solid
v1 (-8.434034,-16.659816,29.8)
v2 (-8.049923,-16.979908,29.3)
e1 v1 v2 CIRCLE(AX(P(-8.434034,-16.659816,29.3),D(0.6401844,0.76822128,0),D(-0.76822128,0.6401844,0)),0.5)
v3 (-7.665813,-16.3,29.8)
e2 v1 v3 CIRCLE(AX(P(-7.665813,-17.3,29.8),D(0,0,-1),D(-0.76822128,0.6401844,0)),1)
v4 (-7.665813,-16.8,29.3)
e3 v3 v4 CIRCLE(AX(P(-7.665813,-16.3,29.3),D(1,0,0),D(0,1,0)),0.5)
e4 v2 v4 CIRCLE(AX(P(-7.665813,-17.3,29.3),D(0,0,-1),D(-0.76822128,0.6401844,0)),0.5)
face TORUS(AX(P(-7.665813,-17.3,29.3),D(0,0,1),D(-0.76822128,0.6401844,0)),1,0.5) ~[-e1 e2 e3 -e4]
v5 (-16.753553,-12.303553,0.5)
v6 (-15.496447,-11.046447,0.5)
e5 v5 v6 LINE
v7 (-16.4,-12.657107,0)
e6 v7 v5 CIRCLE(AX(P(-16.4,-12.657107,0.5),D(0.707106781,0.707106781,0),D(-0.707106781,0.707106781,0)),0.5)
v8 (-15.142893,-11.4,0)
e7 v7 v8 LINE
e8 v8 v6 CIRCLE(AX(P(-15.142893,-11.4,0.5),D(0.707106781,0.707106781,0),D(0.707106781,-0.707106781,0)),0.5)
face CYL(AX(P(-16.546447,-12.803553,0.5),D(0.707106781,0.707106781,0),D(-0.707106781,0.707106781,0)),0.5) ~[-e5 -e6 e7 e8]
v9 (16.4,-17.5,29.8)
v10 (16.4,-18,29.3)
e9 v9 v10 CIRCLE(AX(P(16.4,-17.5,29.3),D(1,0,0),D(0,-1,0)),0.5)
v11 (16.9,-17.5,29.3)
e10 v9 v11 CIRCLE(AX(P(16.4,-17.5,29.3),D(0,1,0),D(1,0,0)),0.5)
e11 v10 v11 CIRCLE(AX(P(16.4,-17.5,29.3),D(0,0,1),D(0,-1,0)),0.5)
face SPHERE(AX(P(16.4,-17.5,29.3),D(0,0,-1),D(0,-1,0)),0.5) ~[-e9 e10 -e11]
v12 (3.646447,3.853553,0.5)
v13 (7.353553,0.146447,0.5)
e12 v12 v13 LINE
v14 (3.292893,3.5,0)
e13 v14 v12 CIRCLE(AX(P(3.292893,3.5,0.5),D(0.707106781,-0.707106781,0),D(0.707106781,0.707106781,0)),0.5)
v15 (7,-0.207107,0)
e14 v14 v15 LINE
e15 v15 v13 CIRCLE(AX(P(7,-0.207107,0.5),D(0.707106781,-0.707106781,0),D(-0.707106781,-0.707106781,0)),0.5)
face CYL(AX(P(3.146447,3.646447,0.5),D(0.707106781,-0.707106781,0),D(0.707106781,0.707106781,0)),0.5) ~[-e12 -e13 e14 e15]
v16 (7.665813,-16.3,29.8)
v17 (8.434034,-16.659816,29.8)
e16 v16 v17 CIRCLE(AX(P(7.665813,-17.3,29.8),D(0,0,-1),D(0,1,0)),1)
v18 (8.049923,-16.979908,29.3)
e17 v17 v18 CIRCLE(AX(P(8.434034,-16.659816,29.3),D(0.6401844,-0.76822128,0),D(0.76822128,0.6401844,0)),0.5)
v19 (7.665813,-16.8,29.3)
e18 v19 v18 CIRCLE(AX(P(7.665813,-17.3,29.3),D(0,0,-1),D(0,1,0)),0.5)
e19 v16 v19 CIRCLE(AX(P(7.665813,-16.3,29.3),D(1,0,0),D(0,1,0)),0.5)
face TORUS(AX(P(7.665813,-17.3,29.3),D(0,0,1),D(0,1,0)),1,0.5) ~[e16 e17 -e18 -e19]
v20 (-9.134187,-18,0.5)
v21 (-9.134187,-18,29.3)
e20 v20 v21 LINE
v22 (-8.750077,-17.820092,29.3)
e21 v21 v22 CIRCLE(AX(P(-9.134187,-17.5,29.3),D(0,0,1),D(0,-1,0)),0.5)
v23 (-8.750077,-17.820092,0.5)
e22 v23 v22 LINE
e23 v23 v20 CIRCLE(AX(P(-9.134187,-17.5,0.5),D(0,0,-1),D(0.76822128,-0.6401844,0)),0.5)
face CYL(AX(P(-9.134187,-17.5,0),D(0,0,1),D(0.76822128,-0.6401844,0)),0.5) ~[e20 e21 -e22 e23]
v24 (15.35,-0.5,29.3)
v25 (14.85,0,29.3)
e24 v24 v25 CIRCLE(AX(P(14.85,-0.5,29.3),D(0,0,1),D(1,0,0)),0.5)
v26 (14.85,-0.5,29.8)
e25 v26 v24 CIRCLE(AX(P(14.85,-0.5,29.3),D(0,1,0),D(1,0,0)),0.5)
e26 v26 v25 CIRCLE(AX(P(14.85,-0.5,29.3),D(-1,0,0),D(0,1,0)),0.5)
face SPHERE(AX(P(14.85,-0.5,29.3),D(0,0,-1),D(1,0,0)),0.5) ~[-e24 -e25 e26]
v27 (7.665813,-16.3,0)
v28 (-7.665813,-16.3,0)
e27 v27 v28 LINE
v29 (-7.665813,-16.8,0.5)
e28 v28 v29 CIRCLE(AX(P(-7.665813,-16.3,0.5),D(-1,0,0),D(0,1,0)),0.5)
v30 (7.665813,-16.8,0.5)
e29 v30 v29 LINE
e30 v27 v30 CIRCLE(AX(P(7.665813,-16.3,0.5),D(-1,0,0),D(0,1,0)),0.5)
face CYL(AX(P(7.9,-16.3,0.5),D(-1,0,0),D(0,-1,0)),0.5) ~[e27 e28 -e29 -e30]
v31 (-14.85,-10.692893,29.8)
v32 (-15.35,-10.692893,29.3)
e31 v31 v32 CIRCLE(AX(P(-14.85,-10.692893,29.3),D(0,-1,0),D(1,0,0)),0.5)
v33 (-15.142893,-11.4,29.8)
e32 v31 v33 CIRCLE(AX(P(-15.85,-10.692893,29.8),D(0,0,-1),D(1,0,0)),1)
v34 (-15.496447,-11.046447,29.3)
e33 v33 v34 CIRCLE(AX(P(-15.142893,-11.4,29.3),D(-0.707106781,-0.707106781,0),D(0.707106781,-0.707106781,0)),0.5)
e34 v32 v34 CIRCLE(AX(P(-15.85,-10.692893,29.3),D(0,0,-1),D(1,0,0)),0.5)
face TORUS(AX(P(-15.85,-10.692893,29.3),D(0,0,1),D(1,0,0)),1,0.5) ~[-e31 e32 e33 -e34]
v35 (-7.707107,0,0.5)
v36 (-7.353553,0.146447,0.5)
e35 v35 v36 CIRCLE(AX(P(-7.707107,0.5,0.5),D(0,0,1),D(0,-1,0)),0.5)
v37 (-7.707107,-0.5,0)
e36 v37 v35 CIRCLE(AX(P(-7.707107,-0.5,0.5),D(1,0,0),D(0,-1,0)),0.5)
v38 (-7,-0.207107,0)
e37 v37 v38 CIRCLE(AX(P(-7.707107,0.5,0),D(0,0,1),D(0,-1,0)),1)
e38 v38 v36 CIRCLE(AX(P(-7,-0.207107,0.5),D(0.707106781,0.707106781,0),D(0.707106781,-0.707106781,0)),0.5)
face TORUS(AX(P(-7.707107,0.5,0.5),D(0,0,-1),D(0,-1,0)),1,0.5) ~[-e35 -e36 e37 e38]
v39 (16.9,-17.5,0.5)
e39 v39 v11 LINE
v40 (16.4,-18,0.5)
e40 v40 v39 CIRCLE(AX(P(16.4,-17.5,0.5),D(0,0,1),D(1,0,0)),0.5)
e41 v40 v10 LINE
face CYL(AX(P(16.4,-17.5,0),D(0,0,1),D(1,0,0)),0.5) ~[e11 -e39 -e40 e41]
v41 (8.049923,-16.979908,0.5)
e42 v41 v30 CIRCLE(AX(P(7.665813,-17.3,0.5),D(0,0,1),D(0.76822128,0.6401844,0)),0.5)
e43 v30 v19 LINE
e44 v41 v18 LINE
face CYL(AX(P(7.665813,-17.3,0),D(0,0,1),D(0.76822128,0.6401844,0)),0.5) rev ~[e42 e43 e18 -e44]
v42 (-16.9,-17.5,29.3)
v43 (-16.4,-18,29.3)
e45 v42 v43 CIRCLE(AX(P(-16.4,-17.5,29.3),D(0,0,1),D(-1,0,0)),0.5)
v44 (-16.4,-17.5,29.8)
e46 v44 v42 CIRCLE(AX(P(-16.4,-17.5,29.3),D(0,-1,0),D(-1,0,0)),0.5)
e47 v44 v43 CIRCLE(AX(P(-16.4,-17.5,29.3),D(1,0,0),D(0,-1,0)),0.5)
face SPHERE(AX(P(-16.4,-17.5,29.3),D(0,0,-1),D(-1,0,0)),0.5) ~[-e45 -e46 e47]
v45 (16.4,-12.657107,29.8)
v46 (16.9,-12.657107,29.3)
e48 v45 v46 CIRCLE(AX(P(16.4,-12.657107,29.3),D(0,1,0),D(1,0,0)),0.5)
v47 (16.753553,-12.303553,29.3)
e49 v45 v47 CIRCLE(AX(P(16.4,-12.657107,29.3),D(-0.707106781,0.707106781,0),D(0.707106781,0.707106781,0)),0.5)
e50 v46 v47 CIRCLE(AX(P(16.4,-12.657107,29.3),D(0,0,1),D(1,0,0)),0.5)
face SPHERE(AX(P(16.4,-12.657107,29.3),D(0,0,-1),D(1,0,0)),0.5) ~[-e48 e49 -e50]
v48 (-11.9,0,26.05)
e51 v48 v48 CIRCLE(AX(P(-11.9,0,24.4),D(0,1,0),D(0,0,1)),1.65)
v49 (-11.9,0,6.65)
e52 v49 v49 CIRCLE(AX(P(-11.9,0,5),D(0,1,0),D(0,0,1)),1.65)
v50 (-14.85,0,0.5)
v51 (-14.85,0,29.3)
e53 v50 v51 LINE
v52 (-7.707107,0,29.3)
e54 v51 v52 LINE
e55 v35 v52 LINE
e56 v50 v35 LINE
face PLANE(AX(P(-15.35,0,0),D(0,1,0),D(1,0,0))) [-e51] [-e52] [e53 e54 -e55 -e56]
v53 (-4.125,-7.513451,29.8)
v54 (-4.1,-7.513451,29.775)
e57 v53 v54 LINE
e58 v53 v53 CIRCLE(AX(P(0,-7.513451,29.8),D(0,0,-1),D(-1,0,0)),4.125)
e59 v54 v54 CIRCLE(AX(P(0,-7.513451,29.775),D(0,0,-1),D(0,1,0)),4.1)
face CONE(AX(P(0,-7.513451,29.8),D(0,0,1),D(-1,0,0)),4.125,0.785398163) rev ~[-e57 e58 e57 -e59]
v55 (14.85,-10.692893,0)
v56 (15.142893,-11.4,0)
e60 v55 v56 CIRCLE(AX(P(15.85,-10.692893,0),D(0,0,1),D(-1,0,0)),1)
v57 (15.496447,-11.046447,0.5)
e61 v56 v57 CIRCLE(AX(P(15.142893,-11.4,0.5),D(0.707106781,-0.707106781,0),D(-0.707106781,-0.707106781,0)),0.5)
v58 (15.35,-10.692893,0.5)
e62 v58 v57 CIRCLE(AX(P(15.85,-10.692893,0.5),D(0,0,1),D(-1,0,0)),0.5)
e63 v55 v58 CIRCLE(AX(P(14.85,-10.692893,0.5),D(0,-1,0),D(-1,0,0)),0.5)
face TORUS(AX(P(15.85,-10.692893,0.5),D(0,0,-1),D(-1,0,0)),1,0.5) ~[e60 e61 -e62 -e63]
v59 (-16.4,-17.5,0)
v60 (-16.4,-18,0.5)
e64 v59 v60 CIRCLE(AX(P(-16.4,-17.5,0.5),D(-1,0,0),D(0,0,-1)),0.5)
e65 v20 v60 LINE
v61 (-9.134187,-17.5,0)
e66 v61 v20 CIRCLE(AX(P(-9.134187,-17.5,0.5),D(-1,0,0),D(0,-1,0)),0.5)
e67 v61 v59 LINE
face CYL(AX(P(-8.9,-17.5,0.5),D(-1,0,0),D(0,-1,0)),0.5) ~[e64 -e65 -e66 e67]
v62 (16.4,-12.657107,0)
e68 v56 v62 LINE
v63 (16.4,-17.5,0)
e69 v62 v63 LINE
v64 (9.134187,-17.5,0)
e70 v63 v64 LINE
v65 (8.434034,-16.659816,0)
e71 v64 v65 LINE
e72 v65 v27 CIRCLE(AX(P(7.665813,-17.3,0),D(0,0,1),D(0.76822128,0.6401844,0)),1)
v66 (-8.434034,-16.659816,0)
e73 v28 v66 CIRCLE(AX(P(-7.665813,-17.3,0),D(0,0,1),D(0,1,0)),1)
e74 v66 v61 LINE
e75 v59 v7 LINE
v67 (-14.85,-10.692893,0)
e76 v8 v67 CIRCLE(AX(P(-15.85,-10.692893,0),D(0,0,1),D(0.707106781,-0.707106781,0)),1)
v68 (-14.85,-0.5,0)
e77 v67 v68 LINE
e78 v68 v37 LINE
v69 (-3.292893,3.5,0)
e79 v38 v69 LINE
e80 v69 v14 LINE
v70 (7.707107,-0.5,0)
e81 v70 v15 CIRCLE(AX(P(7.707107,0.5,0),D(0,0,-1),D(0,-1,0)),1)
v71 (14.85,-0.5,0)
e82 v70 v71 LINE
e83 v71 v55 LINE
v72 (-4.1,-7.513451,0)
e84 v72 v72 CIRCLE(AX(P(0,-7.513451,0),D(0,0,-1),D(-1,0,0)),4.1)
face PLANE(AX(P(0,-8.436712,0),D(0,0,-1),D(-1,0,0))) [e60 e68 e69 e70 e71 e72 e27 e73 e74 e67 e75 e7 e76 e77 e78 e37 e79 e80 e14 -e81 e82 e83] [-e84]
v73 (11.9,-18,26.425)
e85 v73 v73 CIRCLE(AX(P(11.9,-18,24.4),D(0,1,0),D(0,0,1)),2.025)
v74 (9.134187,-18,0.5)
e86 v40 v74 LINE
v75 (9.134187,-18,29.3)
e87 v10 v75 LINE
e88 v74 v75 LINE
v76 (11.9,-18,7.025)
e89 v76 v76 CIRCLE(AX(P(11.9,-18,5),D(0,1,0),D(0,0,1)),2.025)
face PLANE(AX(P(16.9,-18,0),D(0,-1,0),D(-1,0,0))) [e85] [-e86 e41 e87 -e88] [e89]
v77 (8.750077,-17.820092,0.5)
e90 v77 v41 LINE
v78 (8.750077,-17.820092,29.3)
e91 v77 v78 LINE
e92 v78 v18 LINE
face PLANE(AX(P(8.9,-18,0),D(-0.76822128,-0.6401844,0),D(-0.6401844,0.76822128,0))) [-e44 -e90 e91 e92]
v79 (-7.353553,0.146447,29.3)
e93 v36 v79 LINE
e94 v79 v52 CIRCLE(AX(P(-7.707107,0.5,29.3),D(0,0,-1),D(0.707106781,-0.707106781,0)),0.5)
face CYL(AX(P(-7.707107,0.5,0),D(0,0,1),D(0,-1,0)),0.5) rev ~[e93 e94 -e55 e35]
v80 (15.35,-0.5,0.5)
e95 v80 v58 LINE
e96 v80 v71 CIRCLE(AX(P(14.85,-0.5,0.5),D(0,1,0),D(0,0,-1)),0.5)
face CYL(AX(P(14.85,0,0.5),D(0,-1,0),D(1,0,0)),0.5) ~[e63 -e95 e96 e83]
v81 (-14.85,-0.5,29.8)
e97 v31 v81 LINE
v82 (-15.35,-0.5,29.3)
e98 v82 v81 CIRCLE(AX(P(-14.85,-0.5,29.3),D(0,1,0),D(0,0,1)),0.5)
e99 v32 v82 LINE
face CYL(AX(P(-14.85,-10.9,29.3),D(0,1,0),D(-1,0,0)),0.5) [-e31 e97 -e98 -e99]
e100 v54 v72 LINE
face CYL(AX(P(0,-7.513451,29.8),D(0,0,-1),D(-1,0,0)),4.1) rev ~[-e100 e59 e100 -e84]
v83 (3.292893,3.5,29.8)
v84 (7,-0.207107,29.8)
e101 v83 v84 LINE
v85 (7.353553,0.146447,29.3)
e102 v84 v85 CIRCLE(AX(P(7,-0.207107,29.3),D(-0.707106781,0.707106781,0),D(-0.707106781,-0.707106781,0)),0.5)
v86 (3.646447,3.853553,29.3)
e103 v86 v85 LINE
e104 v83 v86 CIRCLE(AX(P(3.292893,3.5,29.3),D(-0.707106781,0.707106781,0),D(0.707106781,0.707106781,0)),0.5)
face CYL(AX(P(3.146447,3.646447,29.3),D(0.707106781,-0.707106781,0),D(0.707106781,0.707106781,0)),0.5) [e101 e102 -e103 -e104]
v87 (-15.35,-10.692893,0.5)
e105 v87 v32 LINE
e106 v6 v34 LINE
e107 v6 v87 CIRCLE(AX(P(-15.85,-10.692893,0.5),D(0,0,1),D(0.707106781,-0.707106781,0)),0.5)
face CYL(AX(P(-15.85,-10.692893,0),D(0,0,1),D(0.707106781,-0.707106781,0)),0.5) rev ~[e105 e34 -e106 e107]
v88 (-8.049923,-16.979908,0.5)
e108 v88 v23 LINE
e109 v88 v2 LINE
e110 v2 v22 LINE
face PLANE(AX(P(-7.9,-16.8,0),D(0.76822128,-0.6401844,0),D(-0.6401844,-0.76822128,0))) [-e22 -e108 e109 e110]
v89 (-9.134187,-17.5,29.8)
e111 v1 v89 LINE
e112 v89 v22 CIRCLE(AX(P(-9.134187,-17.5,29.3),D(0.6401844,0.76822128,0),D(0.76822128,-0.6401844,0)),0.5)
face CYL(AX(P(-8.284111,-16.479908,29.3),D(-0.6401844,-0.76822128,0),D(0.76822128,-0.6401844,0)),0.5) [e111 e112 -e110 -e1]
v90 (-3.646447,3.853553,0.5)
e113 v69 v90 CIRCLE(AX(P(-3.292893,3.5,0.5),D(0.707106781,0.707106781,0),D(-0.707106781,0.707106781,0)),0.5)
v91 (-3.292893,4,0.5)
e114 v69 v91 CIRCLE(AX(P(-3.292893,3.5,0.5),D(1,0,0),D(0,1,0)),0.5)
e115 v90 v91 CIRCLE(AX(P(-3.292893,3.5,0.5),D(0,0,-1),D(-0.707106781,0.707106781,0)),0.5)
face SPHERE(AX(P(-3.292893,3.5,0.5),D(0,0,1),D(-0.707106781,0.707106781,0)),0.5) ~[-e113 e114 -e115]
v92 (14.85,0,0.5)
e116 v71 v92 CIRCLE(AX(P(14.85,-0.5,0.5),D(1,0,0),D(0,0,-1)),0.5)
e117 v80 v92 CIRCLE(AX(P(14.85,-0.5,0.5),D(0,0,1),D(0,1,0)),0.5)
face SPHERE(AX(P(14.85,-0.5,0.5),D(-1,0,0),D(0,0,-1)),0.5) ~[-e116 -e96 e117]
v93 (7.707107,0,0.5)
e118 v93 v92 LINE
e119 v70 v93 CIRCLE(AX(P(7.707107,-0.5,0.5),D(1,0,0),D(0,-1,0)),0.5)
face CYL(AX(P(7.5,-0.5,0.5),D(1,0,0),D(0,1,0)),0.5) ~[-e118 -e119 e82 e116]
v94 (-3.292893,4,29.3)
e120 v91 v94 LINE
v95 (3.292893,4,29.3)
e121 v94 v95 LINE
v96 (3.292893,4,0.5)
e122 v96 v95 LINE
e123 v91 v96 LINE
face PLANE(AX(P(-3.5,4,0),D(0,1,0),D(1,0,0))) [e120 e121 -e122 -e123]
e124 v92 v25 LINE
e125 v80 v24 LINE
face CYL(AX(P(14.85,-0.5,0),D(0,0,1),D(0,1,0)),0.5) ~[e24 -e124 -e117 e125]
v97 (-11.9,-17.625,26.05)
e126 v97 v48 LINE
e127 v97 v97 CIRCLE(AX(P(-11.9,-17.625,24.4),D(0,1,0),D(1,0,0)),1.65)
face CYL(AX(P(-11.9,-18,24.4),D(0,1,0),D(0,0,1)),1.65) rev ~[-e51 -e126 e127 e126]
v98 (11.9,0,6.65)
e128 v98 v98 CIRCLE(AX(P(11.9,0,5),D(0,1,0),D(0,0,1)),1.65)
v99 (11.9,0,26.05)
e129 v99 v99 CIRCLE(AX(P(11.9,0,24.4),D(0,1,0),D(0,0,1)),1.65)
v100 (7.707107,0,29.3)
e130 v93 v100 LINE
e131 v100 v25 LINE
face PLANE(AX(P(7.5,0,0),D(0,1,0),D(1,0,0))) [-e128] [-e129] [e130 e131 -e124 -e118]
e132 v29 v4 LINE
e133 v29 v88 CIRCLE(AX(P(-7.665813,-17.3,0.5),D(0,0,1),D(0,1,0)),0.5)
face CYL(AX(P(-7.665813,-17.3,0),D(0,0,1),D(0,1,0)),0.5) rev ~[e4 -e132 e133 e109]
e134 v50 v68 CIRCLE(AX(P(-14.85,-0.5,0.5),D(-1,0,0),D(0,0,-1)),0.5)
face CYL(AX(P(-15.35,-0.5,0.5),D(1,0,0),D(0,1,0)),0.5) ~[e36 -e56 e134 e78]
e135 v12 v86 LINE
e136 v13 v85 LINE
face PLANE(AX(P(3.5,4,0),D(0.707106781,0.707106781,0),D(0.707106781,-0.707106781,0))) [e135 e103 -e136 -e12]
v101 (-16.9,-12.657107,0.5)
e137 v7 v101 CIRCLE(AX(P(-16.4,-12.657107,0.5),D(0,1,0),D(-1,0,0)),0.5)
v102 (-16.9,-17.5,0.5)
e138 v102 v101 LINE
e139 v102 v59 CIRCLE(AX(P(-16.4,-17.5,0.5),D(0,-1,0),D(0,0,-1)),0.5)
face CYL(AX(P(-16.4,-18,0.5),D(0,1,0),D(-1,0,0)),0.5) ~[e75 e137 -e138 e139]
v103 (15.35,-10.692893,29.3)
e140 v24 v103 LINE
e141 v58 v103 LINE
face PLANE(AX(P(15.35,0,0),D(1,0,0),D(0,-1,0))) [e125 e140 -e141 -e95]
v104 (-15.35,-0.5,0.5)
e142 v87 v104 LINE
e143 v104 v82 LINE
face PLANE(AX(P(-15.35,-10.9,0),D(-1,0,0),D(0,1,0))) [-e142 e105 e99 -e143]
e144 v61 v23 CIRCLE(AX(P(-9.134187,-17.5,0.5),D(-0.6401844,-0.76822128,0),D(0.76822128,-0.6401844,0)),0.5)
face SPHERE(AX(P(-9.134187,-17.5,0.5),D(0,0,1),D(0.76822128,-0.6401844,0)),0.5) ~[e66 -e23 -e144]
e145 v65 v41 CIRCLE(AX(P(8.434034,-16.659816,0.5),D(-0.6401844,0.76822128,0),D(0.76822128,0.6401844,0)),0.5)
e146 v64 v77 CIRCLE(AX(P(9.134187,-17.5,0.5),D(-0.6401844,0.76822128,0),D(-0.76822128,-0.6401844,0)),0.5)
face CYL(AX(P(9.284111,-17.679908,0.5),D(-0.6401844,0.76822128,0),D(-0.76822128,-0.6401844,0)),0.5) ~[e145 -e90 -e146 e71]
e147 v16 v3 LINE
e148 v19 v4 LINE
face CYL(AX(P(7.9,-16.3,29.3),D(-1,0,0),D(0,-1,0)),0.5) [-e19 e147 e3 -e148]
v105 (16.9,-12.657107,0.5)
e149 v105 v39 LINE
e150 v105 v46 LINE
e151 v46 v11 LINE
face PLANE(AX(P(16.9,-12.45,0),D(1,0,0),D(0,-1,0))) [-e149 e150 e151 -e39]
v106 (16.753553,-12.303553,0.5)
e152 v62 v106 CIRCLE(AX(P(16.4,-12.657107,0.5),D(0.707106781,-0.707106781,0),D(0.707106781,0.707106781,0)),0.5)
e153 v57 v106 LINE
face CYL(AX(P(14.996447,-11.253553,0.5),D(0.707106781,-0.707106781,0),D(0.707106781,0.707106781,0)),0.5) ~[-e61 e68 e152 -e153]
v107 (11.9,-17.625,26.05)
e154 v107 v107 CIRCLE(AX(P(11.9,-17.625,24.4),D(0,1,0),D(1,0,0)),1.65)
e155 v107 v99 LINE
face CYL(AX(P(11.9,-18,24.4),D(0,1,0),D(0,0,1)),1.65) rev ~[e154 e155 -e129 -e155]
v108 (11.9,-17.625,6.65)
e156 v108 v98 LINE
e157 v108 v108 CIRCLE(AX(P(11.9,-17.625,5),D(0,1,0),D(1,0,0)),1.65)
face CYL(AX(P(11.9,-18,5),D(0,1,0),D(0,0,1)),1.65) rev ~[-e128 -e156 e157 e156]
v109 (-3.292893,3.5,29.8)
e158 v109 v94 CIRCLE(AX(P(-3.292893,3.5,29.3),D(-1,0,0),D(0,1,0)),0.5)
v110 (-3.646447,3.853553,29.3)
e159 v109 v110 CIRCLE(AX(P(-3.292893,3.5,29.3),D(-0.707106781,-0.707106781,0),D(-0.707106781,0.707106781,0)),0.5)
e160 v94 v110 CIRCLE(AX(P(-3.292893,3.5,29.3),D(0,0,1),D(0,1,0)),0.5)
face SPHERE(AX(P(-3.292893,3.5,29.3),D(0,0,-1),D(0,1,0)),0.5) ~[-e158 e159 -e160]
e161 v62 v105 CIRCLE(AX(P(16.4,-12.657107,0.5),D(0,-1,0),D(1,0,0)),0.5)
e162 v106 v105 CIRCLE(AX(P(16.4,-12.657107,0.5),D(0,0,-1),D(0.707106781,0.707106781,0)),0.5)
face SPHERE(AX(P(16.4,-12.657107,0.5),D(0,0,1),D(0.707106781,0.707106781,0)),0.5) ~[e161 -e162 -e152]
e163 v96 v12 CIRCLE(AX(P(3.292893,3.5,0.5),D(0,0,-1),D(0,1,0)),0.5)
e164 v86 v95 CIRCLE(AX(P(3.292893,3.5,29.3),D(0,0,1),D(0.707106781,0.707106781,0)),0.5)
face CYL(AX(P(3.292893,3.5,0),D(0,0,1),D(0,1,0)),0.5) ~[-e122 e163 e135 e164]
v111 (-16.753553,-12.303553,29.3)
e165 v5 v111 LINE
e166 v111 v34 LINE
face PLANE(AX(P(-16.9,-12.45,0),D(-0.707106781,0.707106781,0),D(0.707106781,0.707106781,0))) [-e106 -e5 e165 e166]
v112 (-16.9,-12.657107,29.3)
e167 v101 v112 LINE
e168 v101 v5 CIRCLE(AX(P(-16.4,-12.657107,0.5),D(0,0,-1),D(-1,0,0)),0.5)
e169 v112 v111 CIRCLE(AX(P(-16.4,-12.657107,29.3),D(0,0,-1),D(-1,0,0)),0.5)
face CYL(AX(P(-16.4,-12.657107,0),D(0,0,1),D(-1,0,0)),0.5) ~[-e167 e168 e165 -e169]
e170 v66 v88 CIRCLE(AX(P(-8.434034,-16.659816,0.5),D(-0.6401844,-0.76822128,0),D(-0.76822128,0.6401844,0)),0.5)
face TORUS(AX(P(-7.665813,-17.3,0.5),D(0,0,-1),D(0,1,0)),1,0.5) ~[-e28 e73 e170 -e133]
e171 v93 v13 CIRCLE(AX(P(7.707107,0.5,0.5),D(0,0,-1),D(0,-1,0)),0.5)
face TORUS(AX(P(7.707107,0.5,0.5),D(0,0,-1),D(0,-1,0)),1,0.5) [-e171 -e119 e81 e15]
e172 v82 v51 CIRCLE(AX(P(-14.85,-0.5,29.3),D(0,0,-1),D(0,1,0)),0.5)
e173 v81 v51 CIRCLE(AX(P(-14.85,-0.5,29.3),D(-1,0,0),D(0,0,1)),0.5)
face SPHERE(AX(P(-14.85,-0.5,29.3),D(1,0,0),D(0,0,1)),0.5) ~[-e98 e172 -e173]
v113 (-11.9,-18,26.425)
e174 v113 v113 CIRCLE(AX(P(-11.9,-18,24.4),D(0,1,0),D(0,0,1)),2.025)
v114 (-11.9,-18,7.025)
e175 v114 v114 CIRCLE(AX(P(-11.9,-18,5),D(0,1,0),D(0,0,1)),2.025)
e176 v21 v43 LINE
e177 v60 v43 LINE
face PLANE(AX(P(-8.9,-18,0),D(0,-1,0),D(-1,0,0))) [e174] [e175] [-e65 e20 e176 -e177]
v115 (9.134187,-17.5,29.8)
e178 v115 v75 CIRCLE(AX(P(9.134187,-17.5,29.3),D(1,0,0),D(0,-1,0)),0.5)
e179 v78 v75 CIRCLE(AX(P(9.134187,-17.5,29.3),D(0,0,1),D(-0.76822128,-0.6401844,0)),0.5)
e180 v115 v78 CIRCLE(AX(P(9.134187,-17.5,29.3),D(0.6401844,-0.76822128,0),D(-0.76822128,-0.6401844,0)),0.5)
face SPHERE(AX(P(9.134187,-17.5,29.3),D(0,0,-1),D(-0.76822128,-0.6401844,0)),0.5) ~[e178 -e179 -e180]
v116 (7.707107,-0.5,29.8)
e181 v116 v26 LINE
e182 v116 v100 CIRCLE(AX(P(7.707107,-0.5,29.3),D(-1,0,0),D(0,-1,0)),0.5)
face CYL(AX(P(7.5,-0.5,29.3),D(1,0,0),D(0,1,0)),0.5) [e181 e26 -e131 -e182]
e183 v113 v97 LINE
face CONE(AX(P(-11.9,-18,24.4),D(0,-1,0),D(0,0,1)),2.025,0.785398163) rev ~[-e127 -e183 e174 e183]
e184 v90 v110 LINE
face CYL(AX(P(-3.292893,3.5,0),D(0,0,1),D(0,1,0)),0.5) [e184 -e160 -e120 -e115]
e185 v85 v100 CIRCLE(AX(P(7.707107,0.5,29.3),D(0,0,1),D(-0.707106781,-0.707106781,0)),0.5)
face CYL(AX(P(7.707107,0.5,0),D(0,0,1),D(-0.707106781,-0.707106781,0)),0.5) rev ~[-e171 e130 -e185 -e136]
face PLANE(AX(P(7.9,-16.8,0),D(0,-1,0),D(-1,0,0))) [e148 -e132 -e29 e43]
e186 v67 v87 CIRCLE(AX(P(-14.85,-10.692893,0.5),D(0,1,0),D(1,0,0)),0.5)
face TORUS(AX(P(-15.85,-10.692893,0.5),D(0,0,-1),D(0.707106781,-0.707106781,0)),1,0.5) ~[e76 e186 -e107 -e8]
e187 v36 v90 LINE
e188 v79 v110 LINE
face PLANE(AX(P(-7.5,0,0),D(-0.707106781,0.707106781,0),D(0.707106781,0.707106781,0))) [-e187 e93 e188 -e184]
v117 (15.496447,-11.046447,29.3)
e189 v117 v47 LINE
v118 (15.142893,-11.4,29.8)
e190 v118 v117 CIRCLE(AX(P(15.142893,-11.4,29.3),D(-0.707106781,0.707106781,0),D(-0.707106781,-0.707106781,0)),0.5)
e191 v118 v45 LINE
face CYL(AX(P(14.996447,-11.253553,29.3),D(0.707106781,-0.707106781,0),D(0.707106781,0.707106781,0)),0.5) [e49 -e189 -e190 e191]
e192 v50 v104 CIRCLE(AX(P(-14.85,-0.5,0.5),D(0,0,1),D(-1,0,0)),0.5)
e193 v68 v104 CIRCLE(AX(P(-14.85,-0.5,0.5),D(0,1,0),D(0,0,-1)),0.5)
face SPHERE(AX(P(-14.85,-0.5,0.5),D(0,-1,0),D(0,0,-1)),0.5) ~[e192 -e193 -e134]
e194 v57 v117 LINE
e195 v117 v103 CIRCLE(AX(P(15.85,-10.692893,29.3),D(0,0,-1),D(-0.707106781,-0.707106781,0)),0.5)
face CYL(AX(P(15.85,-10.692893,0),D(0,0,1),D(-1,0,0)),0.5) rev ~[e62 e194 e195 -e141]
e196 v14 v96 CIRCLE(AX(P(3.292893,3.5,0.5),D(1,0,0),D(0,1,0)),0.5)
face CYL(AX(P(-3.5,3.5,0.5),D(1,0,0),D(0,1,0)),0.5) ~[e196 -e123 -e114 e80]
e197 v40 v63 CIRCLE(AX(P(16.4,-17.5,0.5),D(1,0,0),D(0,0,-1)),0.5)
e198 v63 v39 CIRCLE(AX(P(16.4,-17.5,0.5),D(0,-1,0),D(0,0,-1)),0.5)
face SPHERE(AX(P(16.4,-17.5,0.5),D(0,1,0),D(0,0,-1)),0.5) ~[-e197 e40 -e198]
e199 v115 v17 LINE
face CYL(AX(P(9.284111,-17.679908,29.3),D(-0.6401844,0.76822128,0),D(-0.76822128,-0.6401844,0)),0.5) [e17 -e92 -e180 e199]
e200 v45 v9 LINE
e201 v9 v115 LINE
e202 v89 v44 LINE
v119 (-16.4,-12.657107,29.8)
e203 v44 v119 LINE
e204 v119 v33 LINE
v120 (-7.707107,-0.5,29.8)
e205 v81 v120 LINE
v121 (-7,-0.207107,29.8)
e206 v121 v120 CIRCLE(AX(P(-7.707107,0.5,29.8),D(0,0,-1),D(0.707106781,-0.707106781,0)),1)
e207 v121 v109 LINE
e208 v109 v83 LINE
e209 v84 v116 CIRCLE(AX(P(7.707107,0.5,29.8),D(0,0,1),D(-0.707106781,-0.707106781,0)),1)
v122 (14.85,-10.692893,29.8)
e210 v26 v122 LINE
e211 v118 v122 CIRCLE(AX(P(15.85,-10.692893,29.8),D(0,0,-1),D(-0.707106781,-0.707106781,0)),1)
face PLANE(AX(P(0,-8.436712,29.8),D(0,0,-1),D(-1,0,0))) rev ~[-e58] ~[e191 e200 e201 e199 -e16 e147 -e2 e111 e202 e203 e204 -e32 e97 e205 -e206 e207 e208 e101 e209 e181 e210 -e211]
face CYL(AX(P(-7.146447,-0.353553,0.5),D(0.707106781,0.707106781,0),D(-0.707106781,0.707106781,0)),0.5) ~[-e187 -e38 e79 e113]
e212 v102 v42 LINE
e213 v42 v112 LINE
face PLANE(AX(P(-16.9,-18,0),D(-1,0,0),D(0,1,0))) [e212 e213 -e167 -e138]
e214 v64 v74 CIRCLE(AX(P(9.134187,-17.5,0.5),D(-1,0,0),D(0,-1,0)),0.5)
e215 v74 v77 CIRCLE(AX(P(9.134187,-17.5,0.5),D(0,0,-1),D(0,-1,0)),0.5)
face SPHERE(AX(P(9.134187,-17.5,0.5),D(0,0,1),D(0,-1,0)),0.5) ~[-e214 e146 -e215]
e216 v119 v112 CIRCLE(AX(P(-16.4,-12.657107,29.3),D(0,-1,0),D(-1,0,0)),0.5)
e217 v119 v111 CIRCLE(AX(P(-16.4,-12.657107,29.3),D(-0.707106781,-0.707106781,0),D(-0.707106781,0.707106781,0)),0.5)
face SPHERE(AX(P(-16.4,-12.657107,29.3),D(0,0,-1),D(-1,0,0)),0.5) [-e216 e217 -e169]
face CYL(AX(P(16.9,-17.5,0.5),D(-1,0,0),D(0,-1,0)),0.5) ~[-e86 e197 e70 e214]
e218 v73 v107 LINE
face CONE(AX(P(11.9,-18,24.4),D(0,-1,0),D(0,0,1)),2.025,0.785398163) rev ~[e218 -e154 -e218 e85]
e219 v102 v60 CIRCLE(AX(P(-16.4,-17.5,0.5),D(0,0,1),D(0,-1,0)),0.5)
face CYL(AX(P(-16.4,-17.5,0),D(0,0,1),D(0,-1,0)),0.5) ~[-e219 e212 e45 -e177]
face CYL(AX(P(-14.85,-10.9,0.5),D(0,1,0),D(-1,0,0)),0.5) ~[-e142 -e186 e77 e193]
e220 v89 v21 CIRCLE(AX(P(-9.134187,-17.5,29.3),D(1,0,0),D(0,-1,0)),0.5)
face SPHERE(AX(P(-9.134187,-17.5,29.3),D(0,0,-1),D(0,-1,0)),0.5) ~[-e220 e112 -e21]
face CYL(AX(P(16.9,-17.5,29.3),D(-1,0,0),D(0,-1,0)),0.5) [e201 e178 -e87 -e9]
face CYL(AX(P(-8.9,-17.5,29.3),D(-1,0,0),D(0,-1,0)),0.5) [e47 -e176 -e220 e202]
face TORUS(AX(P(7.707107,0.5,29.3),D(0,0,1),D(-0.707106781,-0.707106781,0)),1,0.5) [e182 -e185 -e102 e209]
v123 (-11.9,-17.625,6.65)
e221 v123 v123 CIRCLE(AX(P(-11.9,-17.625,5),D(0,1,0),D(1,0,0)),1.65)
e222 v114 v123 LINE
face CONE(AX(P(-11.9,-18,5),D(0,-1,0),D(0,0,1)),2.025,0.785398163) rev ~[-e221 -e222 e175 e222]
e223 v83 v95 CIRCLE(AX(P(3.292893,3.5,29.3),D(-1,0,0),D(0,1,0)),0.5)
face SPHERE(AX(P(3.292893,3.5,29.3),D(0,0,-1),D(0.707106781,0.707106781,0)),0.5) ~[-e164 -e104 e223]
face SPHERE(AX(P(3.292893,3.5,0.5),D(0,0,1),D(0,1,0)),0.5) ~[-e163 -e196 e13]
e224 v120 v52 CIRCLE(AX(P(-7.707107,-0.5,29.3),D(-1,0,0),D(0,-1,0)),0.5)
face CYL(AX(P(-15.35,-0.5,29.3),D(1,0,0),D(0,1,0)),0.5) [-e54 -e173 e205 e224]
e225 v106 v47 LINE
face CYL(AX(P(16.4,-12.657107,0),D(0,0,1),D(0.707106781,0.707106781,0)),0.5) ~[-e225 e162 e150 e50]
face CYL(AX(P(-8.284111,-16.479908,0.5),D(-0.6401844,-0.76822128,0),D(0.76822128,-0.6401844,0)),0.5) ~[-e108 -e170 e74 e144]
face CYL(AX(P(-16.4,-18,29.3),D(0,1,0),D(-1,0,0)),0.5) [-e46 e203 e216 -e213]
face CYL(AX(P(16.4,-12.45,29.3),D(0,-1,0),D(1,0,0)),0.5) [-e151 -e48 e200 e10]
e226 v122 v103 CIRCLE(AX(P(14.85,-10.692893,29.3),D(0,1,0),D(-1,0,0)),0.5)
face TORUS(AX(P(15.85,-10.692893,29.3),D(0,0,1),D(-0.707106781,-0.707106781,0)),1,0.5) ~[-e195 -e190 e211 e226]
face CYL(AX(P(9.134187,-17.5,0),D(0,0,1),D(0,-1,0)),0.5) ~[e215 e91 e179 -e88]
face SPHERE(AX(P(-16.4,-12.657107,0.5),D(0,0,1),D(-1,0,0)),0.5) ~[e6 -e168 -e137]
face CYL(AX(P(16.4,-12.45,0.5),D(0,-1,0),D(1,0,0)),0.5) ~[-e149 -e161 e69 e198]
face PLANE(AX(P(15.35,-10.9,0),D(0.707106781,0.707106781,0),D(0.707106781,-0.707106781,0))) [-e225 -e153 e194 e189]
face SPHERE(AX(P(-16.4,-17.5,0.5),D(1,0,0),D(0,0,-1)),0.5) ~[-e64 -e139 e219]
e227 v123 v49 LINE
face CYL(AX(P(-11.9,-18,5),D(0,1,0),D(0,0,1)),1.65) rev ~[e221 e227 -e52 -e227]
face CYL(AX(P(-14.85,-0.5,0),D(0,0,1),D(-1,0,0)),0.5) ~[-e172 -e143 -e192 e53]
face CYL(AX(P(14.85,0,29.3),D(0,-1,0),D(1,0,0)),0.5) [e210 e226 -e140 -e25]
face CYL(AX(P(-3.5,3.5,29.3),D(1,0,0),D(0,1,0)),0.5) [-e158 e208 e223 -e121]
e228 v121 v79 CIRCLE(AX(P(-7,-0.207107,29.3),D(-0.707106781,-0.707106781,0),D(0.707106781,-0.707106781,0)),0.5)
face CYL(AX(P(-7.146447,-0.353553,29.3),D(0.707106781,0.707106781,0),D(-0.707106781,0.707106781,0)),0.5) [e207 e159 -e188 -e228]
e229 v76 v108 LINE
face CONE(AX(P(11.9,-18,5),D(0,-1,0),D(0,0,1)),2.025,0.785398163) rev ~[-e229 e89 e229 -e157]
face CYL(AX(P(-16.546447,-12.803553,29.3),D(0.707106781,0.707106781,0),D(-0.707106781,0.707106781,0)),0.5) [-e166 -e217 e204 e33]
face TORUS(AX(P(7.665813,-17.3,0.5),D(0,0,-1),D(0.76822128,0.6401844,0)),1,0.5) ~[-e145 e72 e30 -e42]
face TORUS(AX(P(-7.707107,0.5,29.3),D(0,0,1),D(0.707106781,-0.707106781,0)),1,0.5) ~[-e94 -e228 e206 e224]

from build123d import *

# Parameters (mm, degrees)
BOSS_EXTRUDE1_DEPTH                  = 29.8
FILLET1_R                            = 0.5
F_8_2_8_2_DIAMETER_HOLE1_D           = 8.2
F_8_2_8_2_DIAMETER_HOLE1_CSINK_D     = 8.25
F_8_2_8_2_DIAMETER_HOLE1_CSINK_ANGLE = 90
M4_TAPPED_HOLE1_D                    = 3.3
M4_TAPPED_HOLE1_CSINK_D              = 4.05
M4_TAPPED_HOLE1_CSINK_ANGLE          = 90


with BuildPart() as part:
    # Sketch1 → Boss-Extrude1 (new body)
    with BuildSketch(Plane.XY):
        Polygon((-3.5, 4), (3.5, 4), (7.5, 0), (15.35, 0), (15.35, -10.9), (16.9, -12.45), (16.9, -18), (8.9, -18), (7.9, -16.8), (-7.9, -16.8), (-8.9, -18), (-16.9, -18), (-16.9, -12.45), (-15.35, -10.9), (-15.35, 0), (-7.5, 0), align=None)
    extrude(amount=BOSS_EXTRUDE1_DEPTH)

    # Fillet1
    fillet1_edges = [part.edges().sort_by_distance(p)[0] for p in [
        (-5.5, 2, 29.8),
        (11.425, 0, 0),
        (15.35, -5.45, 0),
        (16.125, -11.675, 0),
        (-11.425, 0, 29.8),
        (16.9, -15.225, 0),
        (12.9, -18, 0),
        (8.4, -17.4, 0),
        (0, -16.8, 0),
        (-8.4, -17.4, 0),
        (-12.9, -18, 0),
        (-16.9, -15.225, 0),
        (-16.125, -11.675, 0),
        (-15.35, -5.45, 0),
        (-11.425, 0, 0),
        (-15.35, -5.45, 29.8),
        (-5.5, 2, 0),
        (0, 4, 0),
        (5.5, 2, 0),
        (-16.125, -11.675, 29.8),
        (7.5, 0, 14.9),
        (15.35, 0, 14.9),
        (15.35, -10.9, 14.9),
        (16.9, -12.45, 14.9),
        (16.9, -18, 14.9),
        (8.9, -18, 14.9),
        (7.9, -16.8, 14.9),
        (-7.9, -16.8, 14.9),
        (-8.9, -18, 14.9),
        (-16.9, -18, 14.9),
        (-16.9, -12.45, 14.9),
        (-15.35, -10.9, 14.9),
        (-15.35, 0, 14.9),
        (-7.5, 0, 14.9),
        (-3.5, 4, 14.9),
        (3.5, 4, 14.9),
        (-16.9, -15.225, 29.8),
        (-12.9, -18, 29.8),
        (-8.4, -17.4, 29.8),
        (0, -16.8, 29.8),
        (8.4, -17.4, 29.8),
        (12.9, -18, 29.8),
        (5.5, 2, 29.8),
        (16.9, -15.225, 29.8),
        (16.125, -11.675, 29.8),
        (15.35, -5.45, 29.8),
        (11.425, 0, 29.8),
        (0, 4, 29.8),
    ]]
    fillet(fillet1_edges, radius=FILLET1_R)

    # Ø8.2 (8.2) Diameter Hole1 (through all)
    with Locations(Plane(origin=(0, -7.513450587, 29.8), x_dir=(1, 0, 0), z_dir=(0, 0, 1))):
        with Locations((0, 0)):
            CounterSinkHole(F_8_2_8_2_DIAMETER_HOLE1_D / 2, F_8_2_8_2_DIAMETER_HOLE1_CSINK_D / 2, counter_sink_angle=F_8_2_8_2_DIAMETER_HOLE1_CSINK_ANGLE)

    # M4 Tapped Hole1 (through all)
    with Locations(Plane(origin=(11.9, -18, 24.4), x_dir=(0, 0, -1), z_dir=(0, -1, 0))):
        with Locations((0, 0), (19.4, 0), (19.4, -23.8), (0, -23.8)):
            CounterSinkHole(M4_TAPPED_HOLE1_D / 2, M4_TAPPED_HOLE1_CSINK_D / 2, counter_sink_angle=M4_TAPPED_HOLE1_CSINK_ANGLE)


solid = part.part
